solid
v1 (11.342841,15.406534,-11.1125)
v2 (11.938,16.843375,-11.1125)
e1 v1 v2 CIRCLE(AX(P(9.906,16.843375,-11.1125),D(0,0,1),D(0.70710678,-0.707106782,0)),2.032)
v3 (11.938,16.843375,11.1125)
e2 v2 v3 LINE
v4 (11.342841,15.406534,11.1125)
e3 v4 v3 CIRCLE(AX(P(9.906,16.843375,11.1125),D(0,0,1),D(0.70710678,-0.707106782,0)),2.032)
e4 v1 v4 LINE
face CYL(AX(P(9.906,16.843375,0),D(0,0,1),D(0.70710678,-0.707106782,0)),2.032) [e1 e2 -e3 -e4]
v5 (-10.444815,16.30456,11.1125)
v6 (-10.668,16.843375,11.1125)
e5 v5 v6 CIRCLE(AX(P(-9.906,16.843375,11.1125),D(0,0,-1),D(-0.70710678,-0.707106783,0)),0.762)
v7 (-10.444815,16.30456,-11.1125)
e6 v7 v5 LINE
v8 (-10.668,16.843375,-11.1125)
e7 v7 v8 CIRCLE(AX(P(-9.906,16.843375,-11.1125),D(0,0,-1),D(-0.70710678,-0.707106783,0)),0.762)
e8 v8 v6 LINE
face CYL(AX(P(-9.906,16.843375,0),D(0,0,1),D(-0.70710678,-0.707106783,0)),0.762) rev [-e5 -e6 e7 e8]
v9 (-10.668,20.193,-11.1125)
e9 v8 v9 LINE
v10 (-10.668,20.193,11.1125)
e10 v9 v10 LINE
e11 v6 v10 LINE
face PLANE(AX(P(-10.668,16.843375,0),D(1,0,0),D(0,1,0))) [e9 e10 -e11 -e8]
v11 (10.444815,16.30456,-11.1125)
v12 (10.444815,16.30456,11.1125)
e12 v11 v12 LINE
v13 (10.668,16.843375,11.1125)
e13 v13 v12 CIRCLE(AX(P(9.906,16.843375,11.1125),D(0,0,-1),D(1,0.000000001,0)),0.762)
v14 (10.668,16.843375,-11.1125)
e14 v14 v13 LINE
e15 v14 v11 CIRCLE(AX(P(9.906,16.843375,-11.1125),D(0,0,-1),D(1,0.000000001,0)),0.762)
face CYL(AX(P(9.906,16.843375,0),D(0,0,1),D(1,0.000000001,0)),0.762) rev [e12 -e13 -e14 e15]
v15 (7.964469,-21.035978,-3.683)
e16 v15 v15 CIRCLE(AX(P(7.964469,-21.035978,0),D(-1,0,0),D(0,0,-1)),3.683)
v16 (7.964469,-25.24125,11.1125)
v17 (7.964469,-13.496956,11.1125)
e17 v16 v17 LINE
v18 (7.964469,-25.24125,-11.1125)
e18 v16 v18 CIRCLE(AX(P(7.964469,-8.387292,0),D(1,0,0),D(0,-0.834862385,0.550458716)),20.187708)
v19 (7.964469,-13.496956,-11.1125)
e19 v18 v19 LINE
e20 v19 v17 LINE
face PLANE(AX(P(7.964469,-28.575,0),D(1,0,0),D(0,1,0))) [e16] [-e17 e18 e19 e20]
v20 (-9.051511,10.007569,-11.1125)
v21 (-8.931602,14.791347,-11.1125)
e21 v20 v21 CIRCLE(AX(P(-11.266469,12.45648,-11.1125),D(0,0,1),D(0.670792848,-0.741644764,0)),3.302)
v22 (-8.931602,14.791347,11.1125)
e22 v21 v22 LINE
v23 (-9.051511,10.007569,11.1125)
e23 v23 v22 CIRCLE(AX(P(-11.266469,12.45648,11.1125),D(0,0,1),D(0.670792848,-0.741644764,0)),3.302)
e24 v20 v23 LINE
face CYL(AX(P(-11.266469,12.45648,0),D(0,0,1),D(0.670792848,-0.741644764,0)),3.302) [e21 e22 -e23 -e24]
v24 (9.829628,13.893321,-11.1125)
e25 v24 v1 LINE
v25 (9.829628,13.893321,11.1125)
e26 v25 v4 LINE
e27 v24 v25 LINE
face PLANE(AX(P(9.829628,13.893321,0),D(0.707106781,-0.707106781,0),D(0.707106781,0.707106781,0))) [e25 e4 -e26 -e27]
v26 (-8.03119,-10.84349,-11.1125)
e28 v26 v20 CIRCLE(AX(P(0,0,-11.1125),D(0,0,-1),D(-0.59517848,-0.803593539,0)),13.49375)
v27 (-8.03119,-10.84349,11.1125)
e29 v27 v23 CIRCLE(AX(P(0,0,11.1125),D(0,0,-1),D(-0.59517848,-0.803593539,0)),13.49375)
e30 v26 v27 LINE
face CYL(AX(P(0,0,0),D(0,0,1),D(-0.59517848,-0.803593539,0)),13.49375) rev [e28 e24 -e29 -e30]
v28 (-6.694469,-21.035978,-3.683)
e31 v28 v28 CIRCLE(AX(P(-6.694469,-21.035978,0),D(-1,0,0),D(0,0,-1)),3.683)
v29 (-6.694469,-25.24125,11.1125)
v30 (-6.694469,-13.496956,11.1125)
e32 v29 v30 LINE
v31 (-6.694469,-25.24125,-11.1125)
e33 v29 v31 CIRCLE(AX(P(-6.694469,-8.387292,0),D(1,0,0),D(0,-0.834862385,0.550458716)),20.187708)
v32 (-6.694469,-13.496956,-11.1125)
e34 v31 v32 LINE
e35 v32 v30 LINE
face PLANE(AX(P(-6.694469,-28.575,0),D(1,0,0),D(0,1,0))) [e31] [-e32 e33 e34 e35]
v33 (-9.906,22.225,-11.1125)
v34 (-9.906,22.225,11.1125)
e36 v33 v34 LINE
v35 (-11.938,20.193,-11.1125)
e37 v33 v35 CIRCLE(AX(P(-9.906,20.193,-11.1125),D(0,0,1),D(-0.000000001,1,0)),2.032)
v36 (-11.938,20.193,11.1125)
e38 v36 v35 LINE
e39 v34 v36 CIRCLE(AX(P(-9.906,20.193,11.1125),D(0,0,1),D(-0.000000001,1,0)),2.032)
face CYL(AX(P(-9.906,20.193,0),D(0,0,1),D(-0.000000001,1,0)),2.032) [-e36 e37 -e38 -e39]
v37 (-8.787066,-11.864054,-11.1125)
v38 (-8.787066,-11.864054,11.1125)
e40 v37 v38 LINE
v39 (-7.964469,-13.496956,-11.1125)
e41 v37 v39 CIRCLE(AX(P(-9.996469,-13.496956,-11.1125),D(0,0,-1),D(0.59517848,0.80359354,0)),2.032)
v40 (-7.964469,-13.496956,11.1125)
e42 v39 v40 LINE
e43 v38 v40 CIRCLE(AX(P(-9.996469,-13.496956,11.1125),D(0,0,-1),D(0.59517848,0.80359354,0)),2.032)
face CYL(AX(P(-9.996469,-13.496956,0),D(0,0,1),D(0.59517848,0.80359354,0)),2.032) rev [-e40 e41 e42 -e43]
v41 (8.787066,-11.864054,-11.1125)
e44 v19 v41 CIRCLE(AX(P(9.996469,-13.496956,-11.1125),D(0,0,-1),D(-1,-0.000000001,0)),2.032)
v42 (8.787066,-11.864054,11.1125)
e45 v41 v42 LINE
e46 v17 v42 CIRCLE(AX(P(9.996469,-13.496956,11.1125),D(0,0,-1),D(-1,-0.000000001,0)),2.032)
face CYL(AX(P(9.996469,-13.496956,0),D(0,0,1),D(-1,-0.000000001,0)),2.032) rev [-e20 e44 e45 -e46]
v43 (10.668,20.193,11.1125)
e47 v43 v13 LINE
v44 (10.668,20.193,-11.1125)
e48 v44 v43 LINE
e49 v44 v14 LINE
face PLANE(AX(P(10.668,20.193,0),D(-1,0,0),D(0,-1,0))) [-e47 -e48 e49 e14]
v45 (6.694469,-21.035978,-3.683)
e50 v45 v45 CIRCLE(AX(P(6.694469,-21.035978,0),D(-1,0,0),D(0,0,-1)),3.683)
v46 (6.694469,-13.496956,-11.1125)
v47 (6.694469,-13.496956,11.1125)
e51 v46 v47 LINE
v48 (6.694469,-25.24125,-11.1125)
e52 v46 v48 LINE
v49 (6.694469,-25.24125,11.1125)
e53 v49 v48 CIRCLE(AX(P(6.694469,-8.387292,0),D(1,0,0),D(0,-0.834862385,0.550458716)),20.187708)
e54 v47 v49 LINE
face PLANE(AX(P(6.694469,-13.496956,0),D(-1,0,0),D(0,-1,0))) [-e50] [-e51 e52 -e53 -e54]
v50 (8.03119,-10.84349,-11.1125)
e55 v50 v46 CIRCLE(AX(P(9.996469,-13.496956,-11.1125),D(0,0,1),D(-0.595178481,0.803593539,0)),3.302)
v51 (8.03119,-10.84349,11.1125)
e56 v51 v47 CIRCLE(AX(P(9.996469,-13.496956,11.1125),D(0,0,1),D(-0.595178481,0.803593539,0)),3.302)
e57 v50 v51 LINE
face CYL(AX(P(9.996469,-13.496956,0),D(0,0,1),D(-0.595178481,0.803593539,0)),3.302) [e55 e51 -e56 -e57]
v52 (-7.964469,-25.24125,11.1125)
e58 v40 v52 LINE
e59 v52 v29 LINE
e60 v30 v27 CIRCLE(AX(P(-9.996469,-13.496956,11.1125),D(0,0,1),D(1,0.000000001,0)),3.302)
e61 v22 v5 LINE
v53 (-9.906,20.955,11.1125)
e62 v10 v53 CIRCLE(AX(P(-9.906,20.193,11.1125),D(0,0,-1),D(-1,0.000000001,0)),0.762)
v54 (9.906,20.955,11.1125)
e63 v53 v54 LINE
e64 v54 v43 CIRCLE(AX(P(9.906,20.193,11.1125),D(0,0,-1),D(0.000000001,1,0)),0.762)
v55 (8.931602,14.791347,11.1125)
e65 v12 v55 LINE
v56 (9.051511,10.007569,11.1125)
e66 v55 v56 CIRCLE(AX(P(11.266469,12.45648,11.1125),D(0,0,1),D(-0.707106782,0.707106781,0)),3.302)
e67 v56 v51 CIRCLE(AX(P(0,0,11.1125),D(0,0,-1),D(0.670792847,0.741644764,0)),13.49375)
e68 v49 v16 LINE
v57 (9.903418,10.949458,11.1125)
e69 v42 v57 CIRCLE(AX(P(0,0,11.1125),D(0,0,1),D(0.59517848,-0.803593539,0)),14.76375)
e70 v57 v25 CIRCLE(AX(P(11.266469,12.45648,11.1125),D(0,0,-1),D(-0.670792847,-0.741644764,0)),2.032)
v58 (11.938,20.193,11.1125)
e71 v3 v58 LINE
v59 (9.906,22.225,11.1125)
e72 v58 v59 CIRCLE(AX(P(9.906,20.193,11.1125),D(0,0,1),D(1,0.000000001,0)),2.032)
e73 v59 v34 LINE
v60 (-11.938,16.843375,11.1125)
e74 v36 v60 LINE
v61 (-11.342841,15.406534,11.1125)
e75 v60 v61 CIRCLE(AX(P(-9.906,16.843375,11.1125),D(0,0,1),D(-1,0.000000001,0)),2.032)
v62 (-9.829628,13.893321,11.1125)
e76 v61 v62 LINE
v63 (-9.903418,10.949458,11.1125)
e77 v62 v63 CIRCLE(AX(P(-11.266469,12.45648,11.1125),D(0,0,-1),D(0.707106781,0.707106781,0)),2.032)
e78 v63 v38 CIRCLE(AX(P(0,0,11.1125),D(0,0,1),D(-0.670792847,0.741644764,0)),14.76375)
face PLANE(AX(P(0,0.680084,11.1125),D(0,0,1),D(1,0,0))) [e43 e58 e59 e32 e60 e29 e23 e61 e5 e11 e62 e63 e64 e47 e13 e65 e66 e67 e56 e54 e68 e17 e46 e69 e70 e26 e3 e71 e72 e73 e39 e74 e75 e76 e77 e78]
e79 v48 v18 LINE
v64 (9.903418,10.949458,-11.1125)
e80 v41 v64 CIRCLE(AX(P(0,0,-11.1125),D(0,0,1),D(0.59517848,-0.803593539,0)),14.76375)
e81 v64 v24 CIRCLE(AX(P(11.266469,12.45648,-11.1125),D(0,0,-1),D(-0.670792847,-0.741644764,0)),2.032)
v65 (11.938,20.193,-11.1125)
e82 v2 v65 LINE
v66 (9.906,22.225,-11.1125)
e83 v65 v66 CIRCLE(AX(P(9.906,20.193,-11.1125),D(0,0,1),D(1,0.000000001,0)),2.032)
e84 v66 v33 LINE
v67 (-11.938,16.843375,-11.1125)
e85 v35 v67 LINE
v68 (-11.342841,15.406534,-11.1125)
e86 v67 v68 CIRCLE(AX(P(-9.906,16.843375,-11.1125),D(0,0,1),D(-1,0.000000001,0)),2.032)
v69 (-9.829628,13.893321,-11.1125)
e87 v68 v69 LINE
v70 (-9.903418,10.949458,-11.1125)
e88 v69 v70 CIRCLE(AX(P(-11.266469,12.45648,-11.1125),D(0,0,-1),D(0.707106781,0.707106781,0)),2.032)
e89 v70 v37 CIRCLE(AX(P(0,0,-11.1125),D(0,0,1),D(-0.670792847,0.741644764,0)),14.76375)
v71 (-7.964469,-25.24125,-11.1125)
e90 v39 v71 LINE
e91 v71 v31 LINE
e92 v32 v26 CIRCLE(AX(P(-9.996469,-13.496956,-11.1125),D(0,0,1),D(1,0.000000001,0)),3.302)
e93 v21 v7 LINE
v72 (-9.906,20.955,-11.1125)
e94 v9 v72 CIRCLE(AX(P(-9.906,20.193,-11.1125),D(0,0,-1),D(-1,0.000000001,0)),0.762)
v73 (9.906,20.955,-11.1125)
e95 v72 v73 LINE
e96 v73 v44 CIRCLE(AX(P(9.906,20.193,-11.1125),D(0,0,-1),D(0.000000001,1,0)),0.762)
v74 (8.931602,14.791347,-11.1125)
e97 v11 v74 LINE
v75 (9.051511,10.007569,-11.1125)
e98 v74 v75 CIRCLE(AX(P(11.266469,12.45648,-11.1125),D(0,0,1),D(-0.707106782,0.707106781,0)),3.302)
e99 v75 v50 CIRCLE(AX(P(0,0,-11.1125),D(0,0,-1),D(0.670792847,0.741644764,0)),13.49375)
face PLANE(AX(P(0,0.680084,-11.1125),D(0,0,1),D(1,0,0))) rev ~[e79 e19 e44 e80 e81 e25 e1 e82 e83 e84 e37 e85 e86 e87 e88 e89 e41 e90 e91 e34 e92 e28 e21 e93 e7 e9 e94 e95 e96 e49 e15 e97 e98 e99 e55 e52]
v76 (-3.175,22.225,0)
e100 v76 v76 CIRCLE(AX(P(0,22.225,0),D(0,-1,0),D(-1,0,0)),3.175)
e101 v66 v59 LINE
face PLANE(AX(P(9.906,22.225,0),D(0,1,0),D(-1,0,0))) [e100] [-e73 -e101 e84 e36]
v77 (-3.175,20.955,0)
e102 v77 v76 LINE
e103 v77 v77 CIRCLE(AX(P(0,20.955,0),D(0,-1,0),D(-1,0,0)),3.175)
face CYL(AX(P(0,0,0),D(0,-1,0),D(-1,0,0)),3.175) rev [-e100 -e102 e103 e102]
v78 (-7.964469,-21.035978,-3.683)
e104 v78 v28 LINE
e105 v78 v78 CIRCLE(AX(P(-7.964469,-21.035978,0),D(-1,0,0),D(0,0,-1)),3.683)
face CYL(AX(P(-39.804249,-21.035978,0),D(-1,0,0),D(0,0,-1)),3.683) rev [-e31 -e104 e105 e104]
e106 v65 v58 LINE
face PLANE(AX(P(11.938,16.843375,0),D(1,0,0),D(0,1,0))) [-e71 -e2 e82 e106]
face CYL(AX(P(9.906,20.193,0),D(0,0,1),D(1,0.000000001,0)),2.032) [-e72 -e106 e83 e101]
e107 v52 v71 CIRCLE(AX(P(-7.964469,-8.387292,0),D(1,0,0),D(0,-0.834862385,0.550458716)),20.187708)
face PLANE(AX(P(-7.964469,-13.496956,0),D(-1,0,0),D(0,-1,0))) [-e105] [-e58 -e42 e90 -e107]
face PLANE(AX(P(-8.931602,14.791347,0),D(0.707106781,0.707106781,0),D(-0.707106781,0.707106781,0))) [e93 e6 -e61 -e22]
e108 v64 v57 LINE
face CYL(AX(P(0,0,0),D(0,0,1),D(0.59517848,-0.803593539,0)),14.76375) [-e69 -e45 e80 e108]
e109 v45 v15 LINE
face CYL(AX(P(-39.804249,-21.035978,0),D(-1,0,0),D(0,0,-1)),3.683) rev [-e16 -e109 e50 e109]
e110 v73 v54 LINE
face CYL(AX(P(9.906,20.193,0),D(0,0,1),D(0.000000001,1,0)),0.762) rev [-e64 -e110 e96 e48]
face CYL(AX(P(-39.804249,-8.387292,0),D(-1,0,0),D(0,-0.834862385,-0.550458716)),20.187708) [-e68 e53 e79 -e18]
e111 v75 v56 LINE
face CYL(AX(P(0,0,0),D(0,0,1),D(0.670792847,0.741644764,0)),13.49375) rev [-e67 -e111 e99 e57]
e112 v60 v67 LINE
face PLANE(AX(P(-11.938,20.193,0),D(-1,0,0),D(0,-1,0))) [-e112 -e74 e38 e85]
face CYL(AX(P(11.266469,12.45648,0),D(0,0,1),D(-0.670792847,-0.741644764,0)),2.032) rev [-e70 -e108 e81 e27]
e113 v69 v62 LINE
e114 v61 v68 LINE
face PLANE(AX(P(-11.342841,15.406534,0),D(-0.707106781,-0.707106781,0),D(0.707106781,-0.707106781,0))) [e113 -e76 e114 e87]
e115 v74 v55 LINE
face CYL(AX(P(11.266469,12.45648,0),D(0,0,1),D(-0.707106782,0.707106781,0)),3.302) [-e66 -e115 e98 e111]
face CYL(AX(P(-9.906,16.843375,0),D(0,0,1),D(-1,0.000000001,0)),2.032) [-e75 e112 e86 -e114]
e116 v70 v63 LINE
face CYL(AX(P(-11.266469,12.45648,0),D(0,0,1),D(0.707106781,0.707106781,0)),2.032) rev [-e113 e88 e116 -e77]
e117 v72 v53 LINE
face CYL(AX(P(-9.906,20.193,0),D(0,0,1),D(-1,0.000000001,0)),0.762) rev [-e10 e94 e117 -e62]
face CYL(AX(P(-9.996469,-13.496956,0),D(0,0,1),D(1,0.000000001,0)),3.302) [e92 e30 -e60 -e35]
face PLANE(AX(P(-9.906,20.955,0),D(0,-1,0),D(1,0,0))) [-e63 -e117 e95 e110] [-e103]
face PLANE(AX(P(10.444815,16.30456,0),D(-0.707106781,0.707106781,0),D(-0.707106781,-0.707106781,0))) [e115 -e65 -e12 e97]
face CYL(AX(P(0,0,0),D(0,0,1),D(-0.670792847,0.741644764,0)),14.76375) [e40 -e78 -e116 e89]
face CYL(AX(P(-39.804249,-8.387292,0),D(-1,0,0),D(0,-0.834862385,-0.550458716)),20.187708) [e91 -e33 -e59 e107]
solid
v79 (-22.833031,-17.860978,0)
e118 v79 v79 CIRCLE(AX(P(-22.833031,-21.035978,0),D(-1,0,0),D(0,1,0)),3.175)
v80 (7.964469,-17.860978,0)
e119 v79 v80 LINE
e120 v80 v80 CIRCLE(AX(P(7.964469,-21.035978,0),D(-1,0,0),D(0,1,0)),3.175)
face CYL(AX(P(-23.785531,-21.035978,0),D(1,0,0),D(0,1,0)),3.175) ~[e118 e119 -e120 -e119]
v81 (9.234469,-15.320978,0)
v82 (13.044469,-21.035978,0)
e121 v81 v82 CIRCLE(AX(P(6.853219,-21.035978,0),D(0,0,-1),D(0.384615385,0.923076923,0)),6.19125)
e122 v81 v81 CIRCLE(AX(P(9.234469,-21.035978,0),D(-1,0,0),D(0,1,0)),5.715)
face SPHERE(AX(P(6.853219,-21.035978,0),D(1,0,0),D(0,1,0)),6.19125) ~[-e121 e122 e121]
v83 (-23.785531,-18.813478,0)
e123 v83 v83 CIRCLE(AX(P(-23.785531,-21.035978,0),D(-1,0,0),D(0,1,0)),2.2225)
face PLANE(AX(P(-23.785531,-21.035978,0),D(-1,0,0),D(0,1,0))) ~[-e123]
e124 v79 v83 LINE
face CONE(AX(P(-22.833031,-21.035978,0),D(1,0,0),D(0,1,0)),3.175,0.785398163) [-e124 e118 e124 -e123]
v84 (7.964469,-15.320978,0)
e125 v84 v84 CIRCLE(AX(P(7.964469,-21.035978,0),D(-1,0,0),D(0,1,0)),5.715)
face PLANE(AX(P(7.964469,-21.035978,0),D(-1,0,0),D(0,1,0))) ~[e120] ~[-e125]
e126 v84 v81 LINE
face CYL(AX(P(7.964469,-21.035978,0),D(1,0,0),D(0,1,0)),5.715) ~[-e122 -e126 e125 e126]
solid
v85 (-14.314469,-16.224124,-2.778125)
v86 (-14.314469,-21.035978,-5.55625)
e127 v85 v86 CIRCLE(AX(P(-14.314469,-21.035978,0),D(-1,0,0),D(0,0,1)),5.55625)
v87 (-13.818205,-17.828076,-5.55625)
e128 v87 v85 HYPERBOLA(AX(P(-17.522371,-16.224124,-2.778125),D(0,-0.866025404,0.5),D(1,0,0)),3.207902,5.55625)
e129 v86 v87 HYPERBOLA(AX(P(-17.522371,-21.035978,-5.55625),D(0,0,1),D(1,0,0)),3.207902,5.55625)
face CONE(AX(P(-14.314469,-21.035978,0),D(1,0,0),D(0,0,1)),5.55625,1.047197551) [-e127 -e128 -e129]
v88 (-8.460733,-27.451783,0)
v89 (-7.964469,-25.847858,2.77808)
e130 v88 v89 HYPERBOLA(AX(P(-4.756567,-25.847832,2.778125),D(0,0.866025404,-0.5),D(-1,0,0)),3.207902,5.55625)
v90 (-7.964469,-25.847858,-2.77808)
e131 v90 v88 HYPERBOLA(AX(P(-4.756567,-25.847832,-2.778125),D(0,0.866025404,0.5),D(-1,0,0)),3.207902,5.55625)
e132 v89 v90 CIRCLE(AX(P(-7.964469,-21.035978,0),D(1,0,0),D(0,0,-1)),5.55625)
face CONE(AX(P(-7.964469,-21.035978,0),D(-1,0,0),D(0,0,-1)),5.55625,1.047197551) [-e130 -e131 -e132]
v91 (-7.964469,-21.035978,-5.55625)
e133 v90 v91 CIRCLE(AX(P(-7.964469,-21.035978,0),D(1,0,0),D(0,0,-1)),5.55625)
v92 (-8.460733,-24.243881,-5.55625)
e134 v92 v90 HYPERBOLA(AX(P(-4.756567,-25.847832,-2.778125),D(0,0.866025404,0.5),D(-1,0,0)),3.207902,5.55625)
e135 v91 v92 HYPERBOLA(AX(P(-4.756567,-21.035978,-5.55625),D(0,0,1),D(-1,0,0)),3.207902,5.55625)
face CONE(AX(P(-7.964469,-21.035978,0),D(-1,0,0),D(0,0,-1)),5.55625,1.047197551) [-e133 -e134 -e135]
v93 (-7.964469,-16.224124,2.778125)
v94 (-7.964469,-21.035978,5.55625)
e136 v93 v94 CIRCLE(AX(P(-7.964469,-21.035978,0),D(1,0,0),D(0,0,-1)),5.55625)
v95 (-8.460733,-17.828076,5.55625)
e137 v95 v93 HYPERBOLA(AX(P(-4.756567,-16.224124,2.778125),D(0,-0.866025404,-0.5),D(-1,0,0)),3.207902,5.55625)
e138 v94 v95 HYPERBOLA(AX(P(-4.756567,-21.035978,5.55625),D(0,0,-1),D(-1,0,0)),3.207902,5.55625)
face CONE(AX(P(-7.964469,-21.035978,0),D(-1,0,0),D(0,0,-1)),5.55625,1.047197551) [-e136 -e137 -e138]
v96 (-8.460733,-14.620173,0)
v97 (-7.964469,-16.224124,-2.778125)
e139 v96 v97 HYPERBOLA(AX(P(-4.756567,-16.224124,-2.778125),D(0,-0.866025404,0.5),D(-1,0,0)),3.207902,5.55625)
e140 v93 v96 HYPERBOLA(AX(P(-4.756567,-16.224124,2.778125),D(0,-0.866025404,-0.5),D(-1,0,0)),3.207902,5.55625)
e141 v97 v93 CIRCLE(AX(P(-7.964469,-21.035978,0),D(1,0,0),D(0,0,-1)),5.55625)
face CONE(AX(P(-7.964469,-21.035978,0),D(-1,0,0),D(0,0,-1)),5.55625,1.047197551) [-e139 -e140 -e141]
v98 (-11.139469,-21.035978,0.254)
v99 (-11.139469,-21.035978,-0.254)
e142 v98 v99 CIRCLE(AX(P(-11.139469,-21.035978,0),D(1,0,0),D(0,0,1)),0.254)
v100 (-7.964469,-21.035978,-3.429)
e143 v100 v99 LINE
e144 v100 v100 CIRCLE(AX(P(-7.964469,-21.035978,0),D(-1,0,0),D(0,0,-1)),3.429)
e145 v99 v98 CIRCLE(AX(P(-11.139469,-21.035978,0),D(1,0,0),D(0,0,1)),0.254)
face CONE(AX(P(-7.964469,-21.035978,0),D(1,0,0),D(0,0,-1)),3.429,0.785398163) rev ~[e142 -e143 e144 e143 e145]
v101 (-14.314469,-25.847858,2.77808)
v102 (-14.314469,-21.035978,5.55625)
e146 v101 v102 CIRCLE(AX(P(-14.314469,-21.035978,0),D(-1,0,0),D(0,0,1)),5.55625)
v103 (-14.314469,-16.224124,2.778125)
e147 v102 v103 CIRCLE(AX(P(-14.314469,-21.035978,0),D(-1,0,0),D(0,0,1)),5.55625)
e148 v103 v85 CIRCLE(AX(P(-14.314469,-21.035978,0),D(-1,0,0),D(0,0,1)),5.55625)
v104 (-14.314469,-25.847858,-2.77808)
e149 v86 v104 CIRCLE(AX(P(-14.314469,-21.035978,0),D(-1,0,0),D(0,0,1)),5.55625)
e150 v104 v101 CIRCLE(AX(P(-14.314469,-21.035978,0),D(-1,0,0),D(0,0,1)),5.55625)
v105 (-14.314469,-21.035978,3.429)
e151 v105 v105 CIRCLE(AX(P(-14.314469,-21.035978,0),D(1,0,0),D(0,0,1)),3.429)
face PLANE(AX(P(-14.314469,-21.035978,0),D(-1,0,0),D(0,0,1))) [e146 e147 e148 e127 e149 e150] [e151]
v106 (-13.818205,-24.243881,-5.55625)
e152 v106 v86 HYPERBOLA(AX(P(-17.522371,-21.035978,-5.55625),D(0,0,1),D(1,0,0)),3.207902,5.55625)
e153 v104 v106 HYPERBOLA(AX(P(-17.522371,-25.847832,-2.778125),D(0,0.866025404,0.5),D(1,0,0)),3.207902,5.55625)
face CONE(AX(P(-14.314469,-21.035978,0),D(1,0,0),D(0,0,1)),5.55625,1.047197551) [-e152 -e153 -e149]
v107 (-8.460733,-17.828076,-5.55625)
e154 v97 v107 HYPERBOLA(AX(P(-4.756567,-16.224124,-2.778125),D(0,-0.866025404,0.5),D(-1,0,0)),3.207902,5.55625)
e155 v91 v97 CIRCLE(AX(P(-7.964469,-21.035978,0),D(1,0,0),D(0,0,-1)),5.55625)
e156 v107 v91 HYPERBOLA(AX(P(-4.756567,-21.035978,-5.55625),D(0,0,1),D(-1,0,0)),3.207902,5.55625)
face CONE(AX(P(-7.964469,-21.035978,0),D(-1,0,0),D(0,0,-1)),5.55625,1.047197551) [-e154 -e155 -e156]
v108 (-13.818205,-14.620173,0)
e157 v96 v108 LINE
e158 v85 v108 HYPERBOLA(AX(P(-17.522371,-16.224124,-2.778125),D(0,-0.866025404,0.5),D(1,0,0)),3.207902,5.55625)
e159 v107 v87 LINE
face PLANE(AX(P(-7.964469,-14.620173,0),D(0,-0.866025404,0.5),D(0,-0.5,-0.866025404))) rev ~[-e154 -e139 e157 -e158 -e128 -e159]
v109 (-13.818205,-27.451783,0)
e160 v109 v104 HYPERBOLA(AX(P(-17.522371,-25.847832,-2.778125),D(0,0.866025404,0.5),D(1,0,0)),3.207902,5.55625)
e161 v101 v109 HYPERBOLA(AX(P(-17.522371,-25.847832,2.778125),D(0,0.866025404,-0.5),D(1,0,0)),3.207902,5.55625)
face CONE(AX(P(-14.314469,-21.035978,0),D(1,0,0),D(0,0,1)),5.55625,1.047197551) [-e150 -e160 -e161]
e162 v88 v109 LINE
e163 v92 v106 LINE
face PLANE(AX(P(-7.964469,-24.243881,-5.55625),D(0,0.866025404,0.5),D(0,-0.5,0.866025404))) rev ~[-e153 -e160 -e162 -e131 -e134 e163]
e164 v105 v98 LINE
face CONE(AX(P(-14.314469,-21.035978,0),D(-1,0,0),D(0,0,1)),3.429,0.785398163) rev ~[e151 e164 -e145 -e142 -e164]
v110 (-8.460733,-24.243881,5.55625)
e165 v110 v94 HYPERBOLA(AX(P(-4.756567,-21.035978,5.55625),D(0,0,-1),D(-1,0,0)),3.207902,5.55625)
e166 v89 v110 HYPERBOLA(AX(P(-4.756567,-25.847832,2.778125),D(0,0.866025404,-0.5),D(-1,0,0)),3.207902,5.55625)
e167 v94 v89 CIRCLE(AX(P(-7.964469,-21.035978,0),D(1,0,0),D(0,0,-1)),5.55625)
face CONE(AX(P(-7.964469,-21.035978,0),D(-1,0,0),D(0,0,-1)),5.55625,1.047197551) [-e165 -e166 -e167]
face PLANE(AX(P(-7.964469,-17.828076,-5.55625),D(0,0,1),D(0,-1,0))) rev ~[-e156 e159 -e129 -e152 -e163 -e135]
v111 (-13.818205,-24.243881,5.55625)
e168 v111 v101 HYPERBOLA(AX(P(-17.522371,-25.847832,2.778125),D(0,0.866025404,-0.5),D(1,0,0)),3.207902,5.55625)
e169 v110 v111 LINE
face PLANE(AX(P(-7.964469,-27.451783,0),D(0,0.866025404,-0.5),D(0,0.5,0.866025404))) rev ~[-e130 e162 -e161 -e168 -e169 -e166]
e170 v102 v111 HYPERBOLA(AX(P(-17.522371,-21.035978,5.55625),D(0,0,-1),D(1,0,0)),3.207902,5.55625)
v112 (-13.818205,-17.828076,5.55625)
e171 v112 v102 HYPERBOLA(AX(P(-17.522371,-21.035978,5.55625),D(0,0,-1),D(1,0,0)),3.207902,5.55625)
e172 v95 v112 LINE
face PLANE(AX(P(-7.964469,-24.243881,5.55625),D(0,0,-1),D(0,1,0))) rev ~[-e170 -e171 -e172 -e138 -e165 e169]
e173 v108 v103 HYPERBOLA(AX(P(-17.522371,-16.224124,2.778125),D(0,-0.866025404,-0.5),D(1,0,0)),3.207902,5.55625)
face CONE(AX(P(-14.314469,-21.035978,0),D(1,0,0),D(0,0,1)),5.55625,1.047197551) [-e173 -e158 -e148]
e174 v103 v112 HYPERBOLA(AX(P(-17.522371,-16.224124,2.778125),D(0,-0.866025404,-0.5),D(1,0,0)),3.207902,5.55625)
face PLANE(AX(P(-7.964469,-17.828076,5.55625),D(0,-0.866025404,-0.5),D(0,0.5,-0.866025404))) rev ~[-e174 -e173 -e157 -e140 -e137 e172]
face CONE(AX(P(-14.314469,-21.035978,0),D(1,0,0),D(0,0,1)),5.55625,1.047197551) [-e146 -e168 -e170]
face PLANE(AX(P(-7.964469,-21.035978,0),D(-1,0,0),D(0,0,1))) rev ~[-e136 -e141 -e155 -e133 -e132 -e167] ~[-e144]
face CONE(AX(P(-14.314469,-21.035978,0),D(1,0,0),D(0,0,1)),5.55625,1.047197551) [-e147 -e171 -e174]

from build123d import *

# Parameters (mm, degrees)
BOSS_EXTRUDE1_DEPTH     = 11.1125
SKETCH2_R               = 3.175
CUT_EXTRUDE2_DEPTH      = 35.029202096
CUT_EXTRUDE5_DEPTH      = 39.804249354
CUT_EXTRUDE5_DEPTH_BACK = 39.804249354
SKETCH8_R               = 3.683
CHAMFER1_SIZE           = 0.9525
BOSS_EXTRUDE2_DEPTH     = 6.35
SKETCH10_OUTSIDE_W      = 187.574
SKETCH10_OUTSIDE_H      = 216.15
SKETCH10_OUTSIDE_R      = 5.55625
CUT_EXTRUDE6_DEPTH      = 43.255900172
CUT_EXTRUDE6_DRAFT      = -60
SKETCH11_OUTSIDE_W      = 173.406
SKETCH11_OUTSIDE_H      = 201.98
SKETCH11_OUTSIDE_R      = 5.55625
CUT_EXTRUDE7_DEPTH      = 39.165301237
CUT_EXTRUDE7_DRAFT      = -60
CUT_EXTRUDE3_DEPTH      = 39.804249354
CUT_EXTRUDE3_DEPTH_BACK = 39.804249354


with BuildPart() as part:
    # Sketch1 → Boss-Extrude1 (new, symmetric)
    with BuildSketch(Plane.XY):
        with BuildLine():
            Line((-11.342840979, 15.406534021), (-9.829627985, 13.893321026))
            ThreePointArc((-9.829627985, 13.893321026), (-9.235107004, 12.40556259), (-9.903417898, 10.949457886))
            ThreePointArc((-9.903417898, 10.949457886), (-14.746105665, -0.721582839), (-8.787066292, -11.864054115))
            ThreePointArc((-8.787066292, -11.864054115), (-8.181733414, -12.582757694), (-7.964468964, -13.496956187))
            Line((-7.964468964, -13.496956187), (-7.964468964, -28.575))
            Line((-7.964468964, -28.575), (-6.694468964, -28.575))
            Line((-6.694468964, -28.575), (-6.694468964, -13.496956187))
            ThreePointArc((-6.694468964, -13.496956187), (-7.047523696, -12.011383636), (-8.031189621, -10.84349032))
            ThreePointArc((-8.031189621, -10.84349032), (-13.477623457, -0.659511197), (-9.051510982, 10.007569035))
            ThreePointArc((-9.051510982, 10.007569035), (-7.965505779, 12.373739179), (-8.931602372, 14.791346638))
            Line((-8.931602372, 14.791346638), (-10.444815367, 16.304559633))
            ThreePointArc((-10.444815367, 16.304559633), (-10.609996204, 16.551770225), (-10.668, 16.843375))
            Line((-10.668, 16.843375), (-10.668, 20.193))
            ThreePointArc((-10.668, 20.193), (-10.444815367, 20.731815367), (-9.906, 20.955))
            Line((-9.906, 20.955), (9.906, 20.955))
            ThreePointArc((9.906, 20.955), (10.444815367, 20.731815367), (10.668, 20.193))
            Line((10.668, 20.193), (10.668, 16.843375))
            ThreePointArc((10.668, 16.843375), (10.609996204, 16.551770225), (10.444815367, 16.304559633))
            Line((10.444815367, 16.304559633), (8.931602372, 14.791346638))
            ThreePointArc((8.931602372, 14.791346638), (7.965505779, 12.373739179), (9.051510982, 10.007569035))
            ThreePointArc((9.051510982, 10.007569035), (13.477623457, -0.659511197), (8.031189621, -10.84349032))
            ThreePointArc((8.031189621, -10.84349032), (7.047523696, -12.011383636), (6.694468964, -13.496956187))
            Line((6.694468964, -13.496956187), (6.694468964, -28.575))
            Line((6.694468964, -28.575), (7.964468964, -28.575))
            Line((7.964468964, -28.575), (7.964468964, -13.496956187))
            ThreePointArc((7.964468964, -13.496956187), (8.181733414, -12.582757694), (8.787066292, -11.864054115))
            ThreePointArc((8.787066292, -11.864054115), (14.746105665, -0.721582839), (9.903417898, 10.949457886))
            ThreePointArc((9.903417898, 10.949457886), (9.235107004, 12.40556259), (9.829627985, 13.893321026))
            Line((9.829627985, 13.893321026), (11.342840979, 15.406534021))
            ThreePointArc((11.342840979, 15.406534021), (11.78332321, 16.065762265), (11.938, 16.843375))
            Line((11.938, 16.843375), (11.938, 20.193))
            ThreePointArc((11.938, 20.193), (11.342840979, 21.629840979), (9.906, 22.225))
            Line((9.906, 22.225), (-9.906, 22.225))
            ThreePointArc((-9.906, 22.225), (-11.342840979, 21.629840979), (-11.938, 20.193))
            Line((-11.938, 20.193), (-11.938, 16.843375))
            ThreePointArc((-11.938, 16.843375), (-11.78332321, 16.065762265), (-11.342840979, 15.406534021))
        make_face()
    extrude(amount=BOSS_EXTRUDE1_DEPTH, both=True)

    # Sketch2 → Cut-Extrude2 (cut, through all)
    with BuildSketch(Plane(origin=(0, 0, 0), x_dir=(1, 0, 0), z_dir=(0, 1, 0))):
        Circle(SKETCH2_R)
    extrude(amount=CUT_EXTRUDE2_DEPTH, mode=Mode.SUBTRACT)

    # Sketch8 → Cut-Extrude5 (cut, two sides: drawn at the far end of the back side and taken through both)
    with BuildSketch(Plane(origin=(0, 0, 0), x_dir=(0, 0, -1), z_dir=(1, 0, 0)).offset(-CUT_EXTRUDE5_DEPTH_BACK)):
        with Locations((0, -21.035978094)):
            Circle(SKETCH8_R)
    extrude(amount=CUT_EXTRUDE5_DEPTH + CUT_EXTRUDE5_DEPTH_BACK, mode=Mode.SUBTRACT)

    # Sketch3 → Cut-Extrude3 (cut, two sides: drawn at the far end of the back side and taken through both)
    with BuildSketch(Plane(origin=(0, 0, 0), x_dir=(0, 0, -1), z_dir=(1, 0, 0)).offset(-CUT_EXTRUDE3_DEPTH_BACK)):
        with BuildLine():
            Line((11.1125, -31.90875), (11.1125, -25.24125))
            ThreePointArc((11.1125, -25.24125), (0, -28.575), (-11.1125, -25.24125))
            Line((-11.1125, -25.24125), (-11.1125, -31.90875))
            Line((-11.1125, -31.90875), (11.1125, -31.90875))
        make_face()
    extrude(amount=CUT_EXTRUDE3_DEPTH + CUT_EXTRUDE3_DEPTH_BACK, mode=Mode.SUBTRACT)


with BuildPart() as body_2:
    # Sketch4 → Revolve1 (revolve)
    with BuildSketch(Plane.XY):
        with BuildLine():
            Line((-23.785531036, -17.860978094), (7.964468964, -17.860978094))
            Line((7.964468964, -17.860978094), (7.964468964, -15.320978094))
            Line((7.964468964, -15.320978094), (9.234468964, -15.320978094))
            ThreePointArc((9.234468964, -15.320978094), (12.004650349, -17.601690504), (13.044468964, -21.035978094))
            Line((13.044468964, -21.035978094), (-23.785531036, -21.035978094))
            Line((-23.785531036, -21.035978094), (-23.785531036, -17.860978094))
        make_face()
    revolve(axis=Axis((13.044468964, -21.035978094, 0), (-1, 0, 0)))

    # Chamfer1
    chamfer1_edges = [body_2.edges().sort_by_distance(p)[0] for p in [
        (-23.785531036, -24.210978094, 0),
    ]]
    chamfer(chamfer1_edges, length=CHAMFER1_SIZE)


with BuildPart() as body_3:
    # Sketch9 → Boss-Extrude2 (new body)
    with BuildSketch(Plane.ZY.offset(7.964468964)):
        Polygon((0, -27.45178296), (5.55625, -24.243880527), (5.55625, -17.82807566), (0, -14.620173227), (-5.55625, -17.82807566), (-5.55625, -24.243880527), align=None)
    extrude(amount=BOSS_EXTRUDE2_DEPTH)


with BuildPart() as cut_extrude6_tool:
    # Sketch10 outside → Cut-Extrude6 (with draft: the straight prism first)
    with BuildSketch(Plane.ZY.offset(14.314468964)):
        with Locations((0, -3.175)):
            Rectangle(SKETCH10_OUTSIDE_W, SKETCH10_OUTSIDE_H)
        with Locations((0, -21.035978094)):
            Circle(SKETCH10_OUTSIDE_R, mode=Mode.SUBTRACT)
    extrude(amount=-CUT_EXTRUDE6_DEPTH)
    # Cut-Extrude6: the draft: its side faces are tilted about the plane it starts from
    cut_extrude6_sides = [cut_extrude6_tool.faces().sort_by_distance(p)[0] for p in [
        (7.313481122, -111.25, 0),
        (7.313481122, -3.175, 93.787),
        (7.313481122, 104.9, 0),
        (7.313481122, -3.175, -93.787),
        (7.313481122, -21.035978094, -5.55625),
    ]]
    draft(cut_extrude6_sides, Plane.ZY.offset(14.314468964), CUT_EXTRUDE6_DRAFT)


with BuildPart() as body_3_1:
    add(body_3.part)

    # Cut-Extrude6: cut by cut_extrude6_tool
    add(cut_extrude6_tool.part, mode=Mode.SUBTRACT)


with BuildPart() as cut_extrude7_tool:
    # Sketch11 outside → Cut-Extrude7 (with draft: the straight prism first)
    with BuildSketch(Plane(origin=(-7.964468964, 0, 0), x_dir=(0, 0, -1), z_dir=(1, 0, 0))):
        with Locations((0, -3.175)):
            Rectangle(SKETCH11_OUTSIDE_W, SKETCH11_OUTSIDE_H)
        with Locations((0, -21.035978094)):
            Circle(SKETCH11_OUTSIDE_R, mode=Mode.SUBTRACT)
    extrude(amount=-CUT_EXTRUDE7_DEPTH)
    # Cut-Extrude7: the draft: its side faces are tilted about the plane it starts from
    cut_extrude7_sides = [cut_extrude7_tool.faces().sort_by_distance(p)[0] for p in [
        (-27.547119582, -104.165, 0),
        (-27.547119582, -3.175, -86.703),
        (-27.547119582, 97.815, 0),
        (-27.547119582, -3.175, 86.703),
        (-27.547119582, -21.035978094, 5.55625),
    ]]
    draft(cut_extrude7_sides, Plane(origin=(-7.964468964, 0, 0), x_dir=(0, 0, -1), z_dir=(1, 0, 0)), CUT_EXTRUDE7_DRAFT)


with BuildPart() as body_3_2:
    add(body_3_1.part)

    # Cut-Extrude7: cut by cut_extrude7_tool
    add(cut_extrude7_tool.part, mode=Mode.SUBTRACT)

    # Cut-Extrude8 cone 1 section (through the dimple's axis) → Cut-Extrude8 (revolve, cut)
    with BuildSketch(Plane(origin=(-14.314468964, -21.035978094, 0), x_dir=(0, 0, 1), z_dir=(0, 1, 0))):
        Polygon((0, 0), (3.429, 0), (0, 3.429), align=None)
    revolve(axis=Axis((-14.314468964, -21.035978094, 0), (1, 0, 0)), mode=Mode.SUBTRACT)

    # Cut-Extrude9 cone 1 section (through the dimple's axis) → Cut-Extrude9 (revolve, cut)
    with BuildSketch(Plane(origin=(-7.964468964, -21.035978094, 0), x_dir=(0, 0, -1), z_dir=(0, 1, 0))):
        Polygon((0, 0), (3.429, 0), (0, 3.429), align=None)
    revolve(axis=Axis((-7.964468964, -21.035978094, 0), (-1, 0, 0)), mode=Mode.SUBTRACT)


solid = Compound([part.part, body_2.part, body_3_2.part])
